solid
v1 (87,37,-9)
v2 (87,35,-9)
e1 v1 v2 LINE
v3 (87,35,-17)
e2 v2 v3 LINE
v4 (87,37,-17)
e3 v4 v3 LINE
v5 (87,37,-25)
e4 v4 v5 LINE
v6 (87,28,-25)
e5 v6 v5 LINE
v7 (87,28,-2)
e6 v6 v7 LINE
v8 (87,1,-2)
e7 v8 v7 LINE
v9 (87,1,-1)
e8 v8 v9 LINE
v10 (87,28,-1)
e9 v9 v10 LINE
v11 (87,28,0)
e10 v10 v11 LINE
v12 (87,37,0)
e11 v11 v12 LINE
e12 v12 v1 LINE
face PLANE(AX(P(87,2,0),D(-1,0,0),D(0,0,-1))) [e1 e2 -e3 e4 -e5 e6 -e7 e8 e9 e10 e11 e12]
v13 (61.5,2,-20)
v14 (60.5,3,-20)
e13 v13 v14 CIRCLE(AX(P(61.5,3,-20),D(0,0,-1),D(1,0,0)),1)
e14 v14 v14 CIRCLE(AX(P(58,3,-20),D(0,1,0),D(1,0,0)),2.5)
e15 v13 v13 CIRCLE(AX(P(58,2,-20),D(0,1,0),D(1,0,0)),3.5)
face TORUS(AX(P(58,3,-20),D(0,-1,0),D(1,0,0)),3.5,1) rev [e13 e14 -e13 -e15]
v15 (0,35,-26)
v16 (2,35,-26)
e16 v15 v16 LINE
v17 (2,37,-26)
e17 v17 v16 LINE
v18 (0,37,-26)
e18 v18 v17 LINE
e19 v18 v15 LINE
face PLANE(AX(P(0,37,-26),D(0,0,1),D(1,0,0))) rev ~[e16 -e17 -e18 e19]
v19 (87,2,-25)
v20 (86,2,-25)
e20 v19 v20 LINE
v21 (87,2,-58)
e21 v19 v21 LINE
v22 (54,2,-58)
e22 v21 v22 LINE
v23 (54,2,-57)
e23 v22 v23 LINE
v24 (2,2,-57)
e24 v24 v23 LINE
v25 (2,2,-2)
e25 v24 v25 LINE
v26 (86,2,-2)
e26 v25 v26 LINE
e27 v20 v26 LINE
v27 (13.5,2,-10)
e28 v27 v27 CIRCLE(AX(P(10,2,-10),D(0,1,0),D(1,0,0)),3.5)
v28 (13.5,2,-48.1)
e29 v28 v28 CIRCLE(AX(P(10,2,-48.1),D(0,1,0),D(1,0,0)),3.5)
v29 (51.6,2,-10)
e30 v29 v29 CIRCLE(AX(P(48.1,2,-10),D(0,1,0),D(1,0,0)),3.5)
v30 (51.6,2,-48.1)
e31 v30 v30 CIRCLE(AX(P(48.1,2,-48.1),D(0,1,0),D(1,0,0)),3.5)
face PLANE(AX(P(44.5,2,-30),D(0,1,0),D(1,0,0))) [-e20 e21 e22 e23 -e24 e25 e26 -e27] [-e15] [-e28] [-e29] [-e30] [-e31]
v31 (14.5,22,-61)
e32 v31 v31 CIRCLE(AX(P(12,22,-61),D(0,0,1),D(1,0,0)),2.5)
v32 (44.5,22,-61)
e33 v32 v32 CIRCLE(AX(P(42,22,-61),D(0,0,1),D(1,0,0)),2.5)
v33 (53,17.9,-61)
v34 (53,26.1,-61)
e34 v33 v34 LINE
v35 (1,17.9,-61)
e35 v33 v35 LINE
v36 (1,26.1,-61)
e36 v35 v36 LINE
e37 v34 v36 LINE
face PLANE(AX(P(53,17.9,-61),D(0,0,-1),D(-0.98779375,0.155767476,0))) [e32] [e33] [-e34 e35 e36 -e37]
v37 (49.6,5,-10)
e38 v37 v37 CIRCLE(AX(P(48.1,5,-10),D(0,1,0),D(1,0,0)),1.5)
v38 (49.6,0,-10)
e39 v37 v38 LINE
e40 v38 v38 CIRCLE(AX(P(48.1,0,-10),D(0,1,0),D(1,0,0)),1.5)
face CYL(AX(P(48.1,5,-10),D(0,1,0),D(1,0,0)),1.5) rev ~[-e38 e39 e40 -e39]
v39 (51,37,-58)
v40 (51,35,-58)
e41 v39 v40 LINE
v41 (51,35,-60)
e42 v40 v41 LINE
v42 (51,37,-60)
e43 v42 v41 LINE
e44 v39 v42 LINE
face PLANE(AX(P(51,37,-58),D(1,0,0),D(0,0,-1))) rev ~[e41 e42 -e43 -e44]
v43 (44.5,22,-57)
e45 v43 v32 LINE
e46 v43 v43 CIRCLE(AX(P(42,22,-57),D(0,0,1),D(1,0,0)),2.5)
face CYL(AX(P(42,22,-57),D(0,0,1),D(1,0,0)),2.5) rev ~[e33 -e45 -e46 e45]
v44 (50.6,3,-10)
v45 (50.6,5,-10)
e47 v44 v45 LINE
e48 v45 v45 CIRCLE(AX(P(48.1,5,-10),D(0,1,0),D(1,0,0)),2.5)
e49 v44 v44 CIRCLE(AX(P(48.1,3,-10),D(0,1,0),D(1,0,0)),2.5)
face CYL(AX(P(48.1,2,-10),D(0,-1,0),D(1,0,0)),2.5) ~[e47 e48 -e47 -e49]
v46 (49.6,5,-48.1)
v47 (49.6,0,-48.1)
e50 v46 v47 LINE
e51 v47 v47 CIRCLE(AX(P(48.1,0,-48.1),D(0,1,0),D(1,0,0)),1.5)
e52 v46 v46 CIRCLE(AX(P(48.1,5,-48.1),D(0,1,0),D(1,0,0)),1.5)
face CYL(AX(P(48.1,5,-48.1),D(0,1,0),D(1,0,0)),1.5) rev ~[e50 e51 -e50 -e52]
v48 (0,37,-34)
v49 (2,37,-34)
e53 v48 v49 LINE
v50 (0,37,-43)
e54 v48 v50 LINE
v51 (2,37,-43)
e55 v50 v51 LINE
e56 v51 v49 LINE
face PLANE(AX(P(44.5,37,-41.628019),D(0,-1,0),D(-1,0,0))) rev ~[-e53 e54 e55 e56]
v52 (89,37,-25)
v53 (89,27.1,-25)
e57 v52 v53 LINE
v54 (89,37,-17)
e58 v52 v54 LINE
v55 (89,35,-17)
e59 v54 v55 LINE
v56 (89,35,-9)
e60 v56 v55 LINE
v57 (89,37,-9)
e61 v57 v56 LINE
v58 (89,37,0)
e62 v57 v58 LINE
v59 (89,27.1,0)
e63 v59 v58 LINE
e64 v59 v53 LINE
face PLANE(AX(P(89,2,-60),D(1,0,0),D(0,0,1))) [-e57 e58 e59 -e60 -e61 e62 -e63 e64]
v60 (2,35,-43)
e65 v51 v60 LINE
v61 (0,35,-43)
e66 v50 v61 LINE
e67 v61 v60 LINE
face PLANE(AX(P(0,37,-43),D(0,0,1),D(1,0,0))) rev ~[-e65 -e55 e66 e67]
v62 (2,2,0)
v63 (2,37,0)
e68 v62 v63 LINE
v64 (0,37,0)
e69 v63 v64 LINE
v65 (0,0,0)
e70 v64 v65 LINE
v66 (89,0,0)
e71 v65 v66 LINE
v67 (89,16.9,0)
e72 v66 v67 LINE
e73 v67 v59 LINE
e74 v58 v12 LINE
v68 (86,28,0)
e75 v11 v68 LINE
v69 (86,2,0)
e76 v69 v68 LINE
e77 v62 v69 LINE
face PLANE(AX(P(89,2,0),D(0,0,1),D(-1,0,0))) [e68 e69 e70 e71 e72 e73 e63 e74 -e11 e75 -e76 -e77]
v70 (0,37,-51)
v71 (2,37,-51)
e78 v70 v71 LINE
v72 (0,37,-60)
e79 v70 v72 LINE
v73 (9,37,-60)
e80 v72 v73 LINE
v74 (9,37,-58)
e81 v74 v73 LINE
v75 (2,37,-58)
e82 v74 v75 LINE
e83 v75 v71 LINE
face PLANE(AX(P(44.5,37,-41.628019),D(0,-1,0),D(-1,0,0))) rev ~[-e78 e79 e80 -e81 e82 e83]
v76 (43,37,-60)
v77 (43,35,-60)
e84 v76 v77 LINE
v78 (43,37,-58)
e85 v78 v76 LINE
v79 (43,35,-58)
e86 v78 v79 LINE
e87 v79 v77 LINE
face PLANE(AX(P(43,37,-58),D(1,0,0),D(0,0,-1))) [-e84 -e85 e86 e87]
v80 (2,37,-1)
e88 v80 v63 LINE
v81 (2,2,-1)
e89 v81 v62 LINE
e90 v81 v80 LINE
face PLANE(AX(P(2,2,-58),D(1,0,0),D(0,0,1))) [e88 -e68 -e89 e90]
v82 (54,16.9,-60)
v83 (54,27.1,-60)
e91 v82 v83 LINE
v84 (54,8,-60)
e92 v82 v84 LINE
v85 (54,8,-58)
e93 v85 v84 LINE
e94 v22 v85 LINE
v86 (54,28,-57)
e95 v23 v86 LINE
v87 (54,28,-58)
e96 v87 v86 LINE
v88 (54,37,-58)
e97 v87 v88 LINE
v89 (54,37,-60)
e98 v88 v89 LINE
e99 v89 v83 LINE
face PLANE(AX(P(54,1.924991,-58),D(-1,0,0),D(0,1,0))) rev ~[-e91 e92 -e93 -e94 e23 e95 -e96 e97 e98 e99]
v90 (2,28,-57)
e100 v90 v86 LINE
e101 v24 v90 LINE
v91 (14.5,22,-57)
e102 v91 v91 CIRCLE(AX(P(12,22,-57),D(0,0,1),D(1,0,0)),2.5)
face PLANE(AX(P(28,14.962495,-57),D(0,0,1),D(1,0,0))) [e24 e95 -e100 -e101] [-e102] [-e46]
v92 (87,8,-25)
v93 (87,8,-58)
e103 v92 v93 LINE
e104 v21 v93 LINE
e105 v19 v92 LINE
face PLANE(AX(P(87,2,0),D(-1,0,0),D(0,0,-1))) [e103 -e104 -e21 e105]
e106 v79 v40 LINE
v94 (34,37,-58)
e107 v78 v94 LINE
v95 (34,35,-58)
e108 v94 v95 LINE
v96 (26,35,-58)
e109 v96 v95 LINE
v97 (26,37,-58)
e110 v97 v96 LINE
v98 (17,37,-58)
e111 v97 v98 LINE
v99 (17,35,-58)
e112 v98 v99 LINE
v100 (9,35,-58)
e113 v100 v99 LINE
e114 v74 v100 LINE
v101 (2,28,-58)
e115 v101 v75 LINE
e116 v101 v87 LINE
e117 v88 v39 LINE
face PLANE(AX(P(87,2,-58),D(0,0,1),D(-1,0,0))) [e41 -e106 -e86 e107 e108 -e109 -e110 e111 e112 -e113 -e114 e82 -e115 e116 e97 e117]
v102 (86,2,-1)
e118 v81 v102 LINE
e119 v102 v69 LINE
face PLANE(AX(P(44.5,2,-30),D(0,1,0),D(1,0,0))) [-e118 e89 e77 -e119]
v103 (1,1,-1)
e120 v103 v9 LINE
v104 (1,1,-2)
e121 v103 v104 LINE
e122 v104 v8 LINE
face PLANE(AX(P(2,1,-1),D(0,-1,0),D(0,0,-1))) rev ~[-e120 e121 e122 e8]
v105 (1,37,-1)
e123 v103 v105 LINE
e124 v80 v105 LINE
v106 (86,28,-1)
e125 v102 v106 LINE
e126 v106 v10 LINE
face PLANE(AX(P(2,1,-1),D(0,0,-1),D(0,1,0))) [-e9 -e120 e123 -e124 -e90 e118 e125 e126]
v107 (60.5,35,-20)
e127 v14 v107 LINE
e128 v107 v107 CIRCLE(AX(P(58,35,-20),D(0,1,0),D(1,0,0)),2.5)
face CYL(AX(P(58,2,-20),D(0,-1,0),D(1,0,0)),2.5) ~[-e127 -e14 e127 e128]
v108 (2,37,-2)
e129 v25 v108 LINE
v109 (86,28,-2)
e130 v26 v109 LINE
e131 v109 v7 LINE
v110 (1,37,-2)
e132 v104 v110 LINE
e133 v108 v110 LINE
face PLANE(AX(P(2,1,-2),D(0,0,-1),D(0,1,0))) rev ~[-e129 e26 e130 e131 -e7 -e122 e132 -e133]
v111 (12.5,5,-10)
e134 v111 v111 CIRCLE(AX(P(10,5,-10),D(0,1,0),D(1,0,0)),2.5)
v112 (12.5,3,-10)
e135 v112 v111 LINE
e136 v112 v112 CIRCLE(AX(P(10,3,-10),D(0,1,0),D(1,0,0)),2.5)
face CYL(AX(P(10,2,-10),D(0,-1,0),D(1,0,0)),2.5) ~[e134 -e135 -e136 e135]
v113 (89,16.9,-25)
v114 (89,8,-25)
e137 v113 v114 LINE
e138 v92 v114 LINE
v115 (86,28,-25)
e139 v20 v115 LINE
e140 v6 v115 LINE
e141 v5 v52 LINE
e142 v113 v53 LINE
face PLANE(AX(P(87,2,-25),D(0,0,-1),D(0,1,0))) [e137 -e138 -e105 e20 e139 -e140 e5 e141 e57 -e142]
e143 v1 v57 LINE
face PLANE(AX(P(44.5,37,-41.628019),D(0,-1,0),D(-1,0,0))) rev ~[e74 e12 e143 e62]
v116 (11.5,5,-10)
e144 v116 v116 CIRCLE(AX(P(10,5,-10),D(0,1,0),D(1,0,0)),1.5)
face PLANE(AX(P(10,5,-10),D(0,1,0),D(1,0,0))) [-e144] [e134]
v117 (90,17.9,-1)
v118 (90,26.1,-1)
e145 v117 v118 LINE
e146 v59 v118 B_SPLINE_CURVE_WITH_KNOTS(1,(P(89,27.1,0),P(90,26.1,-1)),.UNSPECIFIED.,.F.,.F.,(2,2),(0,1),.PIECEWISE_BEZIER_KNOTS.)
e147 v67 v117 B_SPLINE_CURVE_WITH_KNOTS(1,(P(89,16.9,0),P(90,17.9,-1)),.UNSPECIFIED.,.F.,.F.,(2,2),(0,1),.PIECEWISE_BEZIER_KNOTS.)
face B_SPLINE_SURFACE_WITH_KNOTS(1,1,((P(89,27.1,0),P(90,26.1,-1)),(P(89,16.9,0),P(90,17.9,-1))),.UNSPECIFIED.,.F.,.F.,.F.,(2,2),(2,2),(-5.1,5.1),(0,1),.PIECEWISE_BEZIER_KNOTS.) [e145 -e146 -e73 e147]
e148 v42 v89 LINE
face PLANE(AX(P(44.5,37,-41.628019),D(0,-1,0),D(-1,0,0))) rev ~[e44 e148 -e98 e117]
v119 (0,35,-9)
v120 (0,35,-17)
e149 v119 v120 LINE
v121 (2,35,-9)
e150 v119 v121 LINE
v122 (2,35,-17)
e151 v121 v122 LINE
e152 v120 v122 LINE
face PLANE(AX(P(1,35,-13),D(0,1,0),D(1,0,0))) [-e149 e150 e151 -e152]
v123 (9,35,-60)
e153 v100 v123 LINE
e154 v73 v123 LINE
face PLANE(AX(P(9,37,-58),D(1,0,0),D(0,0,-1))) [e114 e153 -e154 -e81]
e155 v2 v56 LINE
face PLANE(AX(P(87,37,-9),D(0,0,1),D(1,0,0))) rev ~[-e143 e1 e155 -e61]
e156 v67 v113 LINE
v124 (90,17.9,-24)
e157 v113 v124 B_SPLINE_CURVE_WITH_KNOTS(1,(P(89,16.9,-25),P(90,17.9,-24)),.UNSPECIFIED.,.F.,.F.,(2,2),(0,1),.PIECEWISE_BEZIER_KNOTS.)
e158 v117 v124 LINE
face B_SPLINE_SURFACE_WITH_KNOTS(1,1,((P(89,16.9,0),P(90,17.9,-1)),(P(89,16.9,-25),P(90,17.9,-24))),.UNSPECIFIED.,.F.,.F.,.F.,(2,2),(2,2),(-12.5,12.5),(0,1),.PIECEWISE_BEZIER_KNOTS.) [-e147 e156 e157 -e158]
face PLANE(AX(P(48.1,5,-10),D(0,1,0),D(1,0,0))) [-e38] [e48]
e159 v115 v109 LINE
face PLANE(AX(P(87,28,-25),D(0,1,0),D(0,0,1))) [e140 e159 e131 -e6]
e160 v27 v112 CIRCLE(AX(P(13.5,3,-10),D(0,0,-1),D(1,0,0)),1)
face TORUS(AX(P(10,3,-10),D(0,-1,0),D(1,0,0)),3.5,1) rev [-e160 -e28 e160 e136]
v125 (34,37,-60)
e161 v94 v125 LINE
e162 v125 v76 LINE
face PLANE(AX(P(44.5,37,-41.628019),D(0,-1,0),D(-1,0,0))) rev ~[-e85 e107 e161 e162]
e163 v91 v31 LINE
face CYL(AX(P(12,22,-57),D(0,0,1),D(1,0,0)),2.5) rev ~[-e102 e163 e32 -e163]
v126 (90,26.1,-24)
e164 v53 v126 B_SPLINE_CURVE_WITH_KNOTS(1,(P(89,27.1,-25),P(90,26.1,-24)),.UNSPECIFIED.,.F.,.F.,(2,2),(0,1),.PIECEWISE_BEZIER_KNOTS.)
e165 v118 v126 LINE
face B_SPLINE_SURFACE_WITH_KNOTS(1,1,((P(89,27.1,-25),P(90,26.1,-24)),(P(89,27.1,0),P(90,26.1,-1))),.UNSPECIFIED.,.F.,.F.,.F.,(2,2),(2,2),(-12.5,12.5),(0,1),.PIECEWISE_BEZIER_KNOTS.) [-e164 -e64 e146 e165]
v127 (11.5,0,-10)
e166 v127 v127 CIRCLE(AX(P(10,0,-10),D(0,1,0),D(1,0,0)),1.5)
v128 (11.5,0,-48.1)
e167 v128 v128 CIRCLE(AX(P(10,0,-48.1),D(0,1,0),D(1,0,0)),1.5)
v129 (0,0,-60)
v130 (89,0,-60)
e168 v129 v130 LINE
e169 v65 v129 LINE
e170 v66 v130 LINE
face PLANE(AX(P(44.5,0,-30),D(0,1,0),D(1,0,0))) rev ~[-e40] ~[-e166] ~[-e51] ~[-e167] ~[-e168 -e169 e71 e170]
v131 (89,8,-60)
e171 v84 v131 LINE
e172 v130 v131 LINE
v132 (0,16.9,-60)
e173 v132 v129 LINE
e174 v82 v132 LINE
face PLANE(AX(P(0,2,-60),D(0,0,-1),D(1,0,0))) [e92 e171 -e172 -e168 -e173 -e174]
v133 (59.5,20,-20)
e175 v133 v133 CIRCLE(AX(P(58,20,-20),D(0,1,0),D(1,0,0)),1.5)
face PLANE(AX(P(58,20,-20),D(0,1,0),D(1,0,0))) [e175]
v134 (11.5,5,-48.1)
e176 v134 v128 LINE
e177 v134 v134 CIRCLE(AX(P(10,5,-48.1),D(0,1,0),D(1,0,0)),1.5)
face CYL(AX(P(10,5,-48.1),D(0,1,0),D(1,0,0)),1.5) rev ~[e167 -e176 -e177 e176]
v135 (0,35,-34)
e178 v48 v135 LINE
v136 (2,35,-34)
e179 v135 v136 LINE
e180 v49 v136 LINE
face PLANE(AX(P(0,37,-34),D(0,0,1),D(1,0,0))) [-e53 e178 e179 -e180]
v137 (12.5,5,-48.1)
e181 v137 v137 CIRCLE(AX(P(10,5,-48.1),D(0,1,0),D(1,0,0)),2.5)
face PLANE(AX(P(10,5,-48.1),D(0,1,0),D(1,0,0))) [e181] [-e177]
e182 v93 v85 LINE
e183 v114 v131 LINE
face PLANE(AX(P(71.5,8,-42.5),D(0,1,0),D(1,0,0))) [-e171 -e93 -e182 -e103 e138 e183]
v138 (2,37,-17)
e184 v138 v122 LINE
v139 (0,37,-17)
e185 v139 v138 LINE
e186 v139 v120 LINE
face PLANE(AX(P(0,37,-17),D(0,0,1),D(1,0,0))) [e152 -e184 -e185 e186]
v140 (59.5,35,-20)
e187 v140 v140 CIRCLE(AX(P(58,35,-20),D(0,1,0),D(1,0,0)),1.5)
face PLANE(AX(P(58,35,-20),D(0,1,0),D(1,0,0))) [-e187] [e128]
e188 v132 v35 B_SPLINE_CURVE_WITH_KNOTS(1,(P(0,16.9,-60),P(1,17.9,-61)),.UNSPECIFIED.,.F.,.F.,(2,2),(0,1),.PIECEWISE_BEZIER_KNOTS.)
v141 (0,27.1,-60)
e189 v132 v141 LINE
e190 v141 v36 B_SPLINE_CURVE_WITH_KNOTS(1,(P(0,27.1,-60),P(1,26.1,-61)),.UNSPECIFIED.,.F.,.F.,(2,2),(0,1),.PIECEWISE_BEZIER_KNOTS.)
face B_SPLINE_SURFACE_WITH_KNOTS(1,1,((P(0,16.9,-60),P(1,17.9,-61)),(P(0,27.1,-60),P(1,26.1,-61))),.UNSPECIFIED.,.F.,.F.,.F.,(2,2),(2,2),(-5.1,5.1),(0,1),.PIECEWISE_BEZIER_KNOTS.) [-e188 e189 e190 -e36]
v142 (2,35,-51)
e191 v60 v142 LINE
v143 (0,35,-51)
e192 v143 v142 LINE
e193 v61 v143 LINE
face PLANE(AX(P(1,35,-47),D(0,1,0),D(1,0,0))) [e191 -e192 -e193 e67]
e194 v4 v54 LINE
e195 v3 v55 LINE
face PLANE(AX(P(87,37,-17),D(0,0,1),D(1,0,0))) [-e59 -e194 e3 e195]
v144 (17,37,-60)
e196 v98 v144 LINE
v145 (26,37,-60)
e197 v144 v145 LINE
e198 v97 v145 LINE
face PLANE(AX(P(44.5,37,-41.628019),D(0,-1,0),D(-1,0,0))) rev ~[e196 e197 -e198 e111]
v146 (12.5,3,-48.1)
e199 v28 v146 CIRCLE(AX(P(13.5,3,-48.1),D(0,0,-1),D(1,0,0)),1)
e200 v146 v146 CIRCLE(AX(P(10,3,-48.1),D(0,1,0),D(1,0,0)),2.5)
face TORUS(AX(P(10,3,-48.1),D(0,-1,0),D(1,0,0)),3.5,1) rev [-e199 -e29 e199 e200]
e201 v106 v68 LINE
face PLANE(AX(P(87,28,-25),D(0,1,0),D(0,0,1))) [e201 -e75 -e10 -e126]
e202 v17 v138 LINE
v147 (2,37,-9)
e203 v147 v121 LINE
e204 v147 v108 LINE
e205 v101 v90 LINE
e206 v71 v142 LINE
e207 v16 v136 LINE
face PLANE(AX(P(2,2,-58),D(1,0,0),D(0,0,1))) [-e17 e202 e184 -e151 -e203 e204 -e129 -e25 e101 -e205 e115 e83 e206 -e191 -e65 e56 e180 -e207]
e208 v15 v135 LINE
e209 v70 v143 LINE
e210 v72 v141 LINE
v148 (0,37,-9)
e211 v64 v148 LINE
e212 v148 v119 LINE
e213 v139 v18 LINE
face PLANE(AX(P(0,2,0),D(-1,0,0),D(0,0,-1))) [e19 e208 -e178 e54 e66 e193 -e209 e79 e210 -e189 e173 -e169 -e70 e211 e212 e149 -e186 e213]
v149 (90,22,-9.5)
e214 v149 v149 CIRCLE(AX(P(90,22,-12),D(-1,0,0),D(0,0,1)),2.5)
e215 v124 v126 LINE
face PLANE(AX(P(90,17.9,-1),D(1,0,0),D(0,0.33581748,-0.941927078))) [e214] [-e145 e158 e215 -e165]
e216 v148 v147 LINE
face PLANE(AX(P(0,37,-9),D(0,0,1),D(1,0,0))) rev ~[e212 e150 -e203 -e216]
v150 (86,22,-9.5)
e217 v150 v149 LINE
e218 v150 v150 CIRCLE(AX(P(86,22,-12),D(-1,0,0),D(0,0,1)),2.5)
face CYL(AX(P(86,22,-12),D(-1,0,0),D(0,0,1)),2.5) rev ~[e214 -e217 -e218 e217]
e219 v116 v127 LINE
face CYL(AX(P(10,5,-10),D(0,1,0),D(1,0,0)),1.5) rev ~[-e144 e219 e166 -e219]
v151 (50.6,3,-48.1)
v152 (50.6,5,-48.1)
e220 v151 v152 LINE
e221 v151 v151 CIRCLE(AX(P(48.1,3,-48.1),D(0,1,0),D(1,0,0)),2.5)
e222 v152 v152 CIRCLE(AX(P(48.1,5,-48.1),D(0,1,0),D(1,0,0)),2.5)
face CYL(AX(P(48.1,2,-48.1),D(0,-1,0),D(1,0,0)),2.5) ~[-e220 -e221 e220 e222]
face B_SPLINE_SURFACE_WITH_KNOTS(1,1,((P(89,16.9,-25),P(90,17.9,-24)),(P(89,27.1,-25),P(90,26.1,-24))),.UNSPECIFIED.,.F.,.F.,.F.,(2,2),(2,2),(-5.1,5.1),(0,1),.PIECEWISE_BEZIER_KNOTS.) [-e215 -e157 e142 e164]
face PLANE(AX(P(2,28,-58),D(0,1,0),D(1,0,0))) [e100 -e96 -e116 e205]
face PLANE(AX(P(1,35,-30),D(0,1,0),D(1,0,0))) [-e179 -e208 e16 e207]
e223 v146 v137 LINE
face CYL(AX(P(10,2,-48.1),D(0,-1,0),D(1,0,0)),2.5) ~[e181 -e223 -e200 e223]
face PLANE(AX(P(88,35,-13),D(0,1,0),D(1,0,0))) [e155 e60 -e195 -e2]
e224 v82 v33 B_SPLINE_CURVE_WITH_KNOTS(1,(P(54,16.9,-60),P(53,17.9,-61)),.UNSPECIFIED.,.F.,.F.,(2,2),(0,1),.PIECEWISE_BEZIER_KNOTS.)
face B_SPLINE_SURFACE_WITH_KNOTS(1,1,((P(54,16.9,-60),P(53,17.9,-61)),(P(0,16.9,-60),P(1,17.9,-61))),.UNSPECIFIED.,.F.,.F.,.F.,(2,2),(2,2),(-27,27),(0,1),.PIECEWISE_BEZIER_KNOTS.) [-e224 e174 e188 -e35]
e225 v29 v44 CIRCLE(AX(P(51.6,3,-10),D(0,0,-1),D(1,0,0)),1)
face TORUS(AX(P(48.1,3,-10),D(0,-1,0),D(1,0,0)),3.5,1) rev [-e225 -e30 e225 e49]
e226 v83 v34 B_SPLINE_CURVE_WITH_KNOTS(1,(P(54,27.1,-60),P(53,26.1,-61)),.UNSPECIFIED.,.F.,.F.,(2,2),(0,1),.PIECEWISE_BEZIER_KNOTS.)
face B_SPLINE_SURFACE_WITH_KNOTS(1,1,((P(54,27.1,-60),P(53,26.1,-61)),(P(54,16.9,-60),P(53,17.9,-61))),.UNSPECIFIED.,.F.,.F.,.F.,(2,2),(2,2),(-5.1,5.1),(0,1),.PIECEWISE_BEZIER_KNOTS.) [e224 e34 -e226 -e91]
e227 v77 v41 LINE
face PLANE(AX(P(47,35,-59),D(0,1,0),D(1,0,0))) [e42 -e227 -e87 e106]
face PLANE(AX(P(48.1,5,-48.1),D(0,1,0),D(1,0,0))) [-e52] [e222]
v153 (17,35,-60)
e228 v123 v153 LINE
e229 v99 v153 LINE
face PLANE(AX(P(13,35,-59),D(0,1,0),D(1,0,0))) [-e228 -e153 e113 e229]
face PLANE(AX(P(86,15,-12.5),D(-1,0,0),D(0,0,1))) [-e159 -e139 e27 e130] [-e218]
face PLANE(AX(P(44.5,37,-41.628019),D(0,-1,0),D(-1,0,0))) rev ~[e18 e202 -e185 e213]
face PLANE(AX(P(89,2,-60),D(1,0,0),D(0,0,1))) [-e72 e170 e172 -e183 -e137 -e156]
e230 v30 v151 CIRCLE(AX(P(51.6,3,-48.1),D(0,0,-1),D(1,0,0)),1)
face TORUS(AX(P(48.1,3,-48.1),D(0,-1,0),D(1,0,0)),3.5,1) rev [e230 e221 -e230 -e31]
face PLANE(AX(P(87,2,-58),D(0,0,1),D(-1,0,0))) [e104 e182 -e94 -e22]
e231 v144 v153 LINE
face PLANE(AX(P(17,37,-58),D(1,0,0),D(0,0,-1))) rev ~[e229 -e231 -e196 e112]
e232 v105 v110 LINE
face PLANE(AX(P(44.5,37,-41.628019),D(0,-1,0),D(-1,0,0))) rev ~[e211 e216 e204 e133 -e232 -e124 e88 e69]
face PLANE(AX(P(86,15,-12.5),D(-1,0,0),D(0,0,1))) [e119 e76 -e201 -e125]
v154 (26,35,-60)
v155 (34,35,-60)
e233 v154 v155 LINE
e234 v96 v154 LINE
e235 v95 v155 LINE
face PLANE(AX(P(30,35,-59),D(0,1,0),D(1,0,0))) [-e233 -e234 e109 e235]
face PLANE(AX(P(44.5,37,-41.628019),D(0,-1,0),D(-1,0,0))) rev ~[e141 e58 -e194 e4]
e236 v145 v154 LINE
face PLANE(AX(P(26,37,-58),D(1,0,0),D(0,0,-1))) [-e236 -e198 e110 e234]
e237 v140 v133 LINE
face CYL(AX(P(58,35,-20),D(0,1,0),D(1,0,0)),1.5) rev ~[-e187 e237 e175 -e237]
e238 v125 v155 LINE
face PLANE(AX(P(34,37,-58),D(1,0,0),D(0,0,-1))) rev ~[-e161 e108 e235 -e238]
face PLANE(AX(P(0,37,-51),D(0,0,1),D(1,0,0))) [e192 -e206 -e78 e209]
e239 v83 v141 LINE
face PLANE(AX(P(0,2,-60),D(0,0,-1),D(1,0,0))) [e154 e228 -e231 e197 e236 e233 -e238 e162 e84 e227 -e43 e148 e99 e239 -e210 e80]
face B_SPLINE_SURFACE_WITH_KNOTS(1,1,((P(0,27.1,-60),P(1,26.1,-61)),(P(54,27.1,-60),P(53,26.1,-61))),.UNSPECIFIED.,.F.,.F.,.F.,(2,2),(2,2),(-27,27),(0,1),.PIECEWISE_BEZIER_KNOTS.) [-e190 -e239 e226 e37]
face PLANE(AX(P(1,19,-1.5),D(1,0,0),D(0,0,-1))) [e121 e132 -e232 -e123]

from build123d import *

# Parameters (mm, degrees)
SKETCH_483_W           = 89
SKETCH_483_H           = 60
EXTRUDE_536_DEPTH      = 2
SKETCH_586_R           = 2.5
EXTRUDE_843_DEPTH      = 3
SKETCH_888_R           = 1.5
CUT_EXTRUDE_974_DEPTH  = 6
SKETCH_1012_R          = 2.5
EXTRUDE_1193_DEPTH     = 33
SKETCH_1235_R          = 1.5
CUT_EXTRUDE_1288_DEPTH = 15
FILLET_1_R             = 1
EXTRUDE_1873_DEPTH     = 35
SKETCH_1953_W          = 35
SKETCH_1953_H          = 35
CUT_EXTRUDE_2110_DEPTH = 29
SKETCH_8_W             = 25
SKETCH_8_H             = 26
EXTRUDE_2361_DEPTH     = 1
SKETCH_2413_W          = 25
SKETCH_2413_H          = 10.2
EXTRUDE_2584_DEPTH     = 1
EXTRUDE_2584_TAPER     = 45
SKETCH_10_R            = 2.5
CUT_EXTRUDE_2826_DEPTH = 5.0000001
SKETCH_7_W             = 52
SKETCH_7_H             = 26.07500902
EXTRUDE_3066_DEPTH     = 1
SKETCH_3118_W          = 54
SKETCH_3118_H          = 10.2
EXTRUDE_3289_DEPTH     = 1
EXTRUDE_3289_TAPER     = 45
SKETCH_3351_R          = 2.5
CUT_EXTRUDE_3526_DEPTH = 5.0000001
SKETCH_3564_W          = 84
SKETCH_3564_H          = 1
CUT_EXTRUDE_3883_DEPTH = 1
SKETCH_3943_W          = 1
SKETCH_3943_H          = 36
CUT_EXTRUDE_4171_DEPTH = 1
SKETCH_4235_W          = 1
SKETCH_4235_H          = 27
CUT_EXTRUDE_4453_DEPTH = 1
SKETCH_26_W            = 2
SKETCH_26_H            = 8
CUT_EXTRUDE_4670_DEPTH = 2
SKETCH_4730_W          = 2
SKETCH_4730_H          = 8
SKETCH_4730_W_2        = 8
SKETCH_4730_H_2        = 2
CUT_EXTRUDE_5100_DEPTH = 2


with BuildPart() as part:
    # Sketch 483 → Extrude 536 (new body)
    with BuildSketch(Plane(origin=(0, 0, 0), x_dir=(1, 0, 0), z_dir=(0, 1, 0))):
        with Locations((44.5, 30)):
            Rectangle(SKETCH_483_W, SKETCH_483_H)
    extrude(amount=EXTRUDE_536_DEPTH)

    # Sketch 586 → Extrude 843 (add)
    with BuildSketch(Plane(origin=(0, 2, 0), x_dir=(1, 0, 0), z_dir=(0, 1, 0))):
        with Locations((10, 10)):
            Circle(SKETCH_586_R)
        with Locations((48.1, 10)):
            Circle(SKETCH_586_R)
        with Locations((48.1, 48.1)):
            Circle(SKETCH_586_R)
        with Locations((10, 48.1)):
            Circle(SKETCH_586_R)
    extrude(amount=EXTRUDE_843_DEPTH)

    # Sketch 888 → Cut-Extrude 974 (cut, through all)
    with BuildSketch(Plane(origin=(0, 5, 0), x_dir=(1, 0, 0), z_dir=(0, 1, 0))):
        with Locations((48.1, 10)):
            Circle(SKETCH_888_R)
        with Locations((10, 10)):
            Circle(SKETCH_888_R)
        with Locations((10, 48.1)):
            Circle(SKETCH_888_R)
        with Locations((48.1, 48.1)):
            Circle(SKETCH_888_R)
    extrude(amount=-CUT_EXTRUDE_974_DEPTH, mode=Mode.SUBTRACT)

    # Sketch 1012 → Extrude 1193 (add)
    with BuildSketch(Plane(origin=(0, 2, 0), x_dir=(1, 0, 0), z_dir=(0, 1, 0))):
        with Locations((58, 20)):
            Circle(SKETCH_1012_R)
    extrude(amount=EXTRUDE_1193_DEPTH)

    # Sketch 1235 → Cut-Extrude 1288 (cut)
    with BuildSketch(Plane(origin=(0, 35, 0), x_dir=(1, 0, 0), z_dir=(0, 1, 0))):
        with Locations((58, 20)):
            Circle(SKETCH_1235_R)
    extrude(amount=-CUT_EXTRUDE_1288_DEPTH, mode=Mode.SUBTRACT)

    # 圆角1
    fillet_1_edges = [part.edges().sort_by_distance(p)[0] for p in [
        (7.5, 2, -10),
        (45.6, 2, -10),
        (45.6, 2, -48.1),
        (7.5, 2, -48.1),
        (55.5, 2, -20),
    ]]
    fillet(fillet_1_edges, radius=FILLET_1_R)

    # Sketch 1575 → Extrude 1873 (add)
    with BuildSketch(Plane(origin=(0, 2, 0), x_dir=(1, 0, 0), z_dir=(0, 1, 0))):
        Polygon((87, 0), (87, 58), (2, 58), (2, 0), (0, 0), (0, 60), (89, 60), (89, 0), align=None)
    extrude(amount=EXTRUDE_1873_DEPTH)

    # Sketch 1953 → Cut-Extrude 2110 (cut)
    with BuildSketch(Plane(origin=(0, 37, 0), x_dir=(1, 0, 0), z_dir=(0, 1, 0))):
        with Locations((71.5, 42.5)):
            Rectangle(SKETCH_1953_W, SKETCH_1953_H)
    extrude(amount=-CUT_EXTRUDE_2110_DEPTH, mode=Mode.SUBTRACT)

    # 草图8 → Extrude 2361 (add)
    with BuildSketch(Plane.ZY.offset(-87)):
        with Locations((-12.5, 15)):
            Rectangle(SKETCH_8_W, SKETCH_8_H)
    extrude(amount=EXTRUDE_2361_DEPTH)

    # Sketch 2413 → Extrude 2584 (add)
    with BuildSketch(Plane(origin=(89, 0, 0), x_dir=(0, 0, -1), z_dir=(1, 0, 0))):
        with Locations((12.5, 22)):
            Rectangle(SKETCH_2413_W, SKETCH_2413_H)
    extrude(amount=EXTRUDE_2584_DEPTH, taper=EXTRUDE_2584_TAPER)

    # 草图10 → Cut-Extrude 2826 (cut, through all)
    with BuildSketch(Plane.ZY.offset(-86)):
        with Locations((-12, 22)):
            Circle(SKETCH_10_R)
    extrude(amount=-CUT_EXTRUDE_2826_DEPTH, mode=Mode.SUBTRACT)

    # 草图7 → Extrude 3066 (add)
    with BuildSketch(Plane.XY.offset(-58)):
        with Locations((28, 14.96249549)):
            Rectangle(SKETCH_7_W, SKETCH_7_H)
    extrude(amount=EXTRUDE_3066_DEPTH)

    # Sketch 3118 → Extrude 3289 (add)
    with BuildSketch(Plane(origin=(0, 0, -60), x_dir=(-1, 0, 0), z_dir=(0, 0, -1))):
        with Locations((-27, 22)):
            Rectangle(SKETCH_3118_W, SKETCH_3118_H)
    extrude(amount=EXTRUDE_3289_DEPTH, taper=EXTRUDE_3289_TAPER)

    # Sketch 3351 → Cut-Extrude 3526 (cut, through all)
    with BuildSketch(Plane.XY.offset(-57)):
        with Locations((12, 22)):
            Circle(SKETCH_3351_R)
        with Locations((42, 22)):
            Circle(SKETCH_3351_R)
    extrude(amount=-CUT_EXTRUDE_3526_DEPTH, mode=Mode.SUBTRACT)

    # Sketch 3564 → Cut-Extrude 3883 (cut)
    with BuildSketch(Plane(origin=(0, 2, 0), x_dir=(1, 0, 0), z_dir=(0, 1, 0))):
        with Locations((44, 1.5)):
            Rectangle(SKETCH_3564_W, SKETCH_3564_H)
    extrude(amount=-CUT_EXTRUDE_3883_DEPTH, mode=Mode.SUBTRACT)

    # Sketch 3943 → Cut-Extrude 4171 (cut)
    with BuildSketch(Plane(origin=(2, 0, 0), x_dir=(0, 0, -1), z_dir=(1, 0, 0))):
        with Locations((1.5, 19)):
            Rectangle(SKETCH_3943_W, SKETCH_3943_H)
    extrude(amount=-CUT_EXTRUDE_4171_DEPTH, mode=Mode.SUBTRACT)

    # Sketch 4235 → Cut-Extrude 4453 (cut)
    with BuildSketch(Plane.ZY.offset(-86)):
        with Locations((-1.5, 14.5)):
            Rectangle(SKETCH_4235_W, SKETCH_4235_H)
    extrude(amount=-CUT_EXTRUDE_4453_DEPTH, mode=Mode.SUBTRACT)

    # 草图26 → Cut-Extrude 4670 (cut)
    with BuildSketch(Plane(origin=(0, 37, 0), x_dir=(1, 0, 0), z_dir=(0, 1, 0))):
        with Locations((88, 13)):
            Rectangle(SKETCH_26_W, SKETCH_26_H)
    extrude(amount=-CUT_EXTRUDE_4670_DEPTH, mode=Mode.SUBTRACT)

    # Sketch 4730 → Cut-Extrude 5100 (cut)
    with BuildSketch(Plane(origin=(0, 37, 0), x_dir=(1, 0, 0), z_dir=(0, 1, 0))):
        with Locations((1, 13)):
            Rectangle(SKETCH_4730_W, SKETCH_4730_H)
        with Locations((1, 30)):
            Rectangle(SKETCH_4730_W, SKETCH_4730_H)
        with Locations((1, 47)):
            Rectangle(SKETCH_4730_W, SKETCH_4730_H)
        with Locations((13, 59)):
            Rectangle(SKETCH_4730_W_2, SKETCH_4730_H_2)
        with Locations((30, 59)):
            Rectangle(SKETCH_4730_W_2, SKETCH_4730_H_2)
        with Locations((47, 59)):
            Rectangle(SKETCH_4730_W_2, SKETCH_4730_H_2)
    extrude(amount=-CUT_EXTRUDE_5100_DEPTH, mode=Mode.SUBTRACT)


solid = part.part
